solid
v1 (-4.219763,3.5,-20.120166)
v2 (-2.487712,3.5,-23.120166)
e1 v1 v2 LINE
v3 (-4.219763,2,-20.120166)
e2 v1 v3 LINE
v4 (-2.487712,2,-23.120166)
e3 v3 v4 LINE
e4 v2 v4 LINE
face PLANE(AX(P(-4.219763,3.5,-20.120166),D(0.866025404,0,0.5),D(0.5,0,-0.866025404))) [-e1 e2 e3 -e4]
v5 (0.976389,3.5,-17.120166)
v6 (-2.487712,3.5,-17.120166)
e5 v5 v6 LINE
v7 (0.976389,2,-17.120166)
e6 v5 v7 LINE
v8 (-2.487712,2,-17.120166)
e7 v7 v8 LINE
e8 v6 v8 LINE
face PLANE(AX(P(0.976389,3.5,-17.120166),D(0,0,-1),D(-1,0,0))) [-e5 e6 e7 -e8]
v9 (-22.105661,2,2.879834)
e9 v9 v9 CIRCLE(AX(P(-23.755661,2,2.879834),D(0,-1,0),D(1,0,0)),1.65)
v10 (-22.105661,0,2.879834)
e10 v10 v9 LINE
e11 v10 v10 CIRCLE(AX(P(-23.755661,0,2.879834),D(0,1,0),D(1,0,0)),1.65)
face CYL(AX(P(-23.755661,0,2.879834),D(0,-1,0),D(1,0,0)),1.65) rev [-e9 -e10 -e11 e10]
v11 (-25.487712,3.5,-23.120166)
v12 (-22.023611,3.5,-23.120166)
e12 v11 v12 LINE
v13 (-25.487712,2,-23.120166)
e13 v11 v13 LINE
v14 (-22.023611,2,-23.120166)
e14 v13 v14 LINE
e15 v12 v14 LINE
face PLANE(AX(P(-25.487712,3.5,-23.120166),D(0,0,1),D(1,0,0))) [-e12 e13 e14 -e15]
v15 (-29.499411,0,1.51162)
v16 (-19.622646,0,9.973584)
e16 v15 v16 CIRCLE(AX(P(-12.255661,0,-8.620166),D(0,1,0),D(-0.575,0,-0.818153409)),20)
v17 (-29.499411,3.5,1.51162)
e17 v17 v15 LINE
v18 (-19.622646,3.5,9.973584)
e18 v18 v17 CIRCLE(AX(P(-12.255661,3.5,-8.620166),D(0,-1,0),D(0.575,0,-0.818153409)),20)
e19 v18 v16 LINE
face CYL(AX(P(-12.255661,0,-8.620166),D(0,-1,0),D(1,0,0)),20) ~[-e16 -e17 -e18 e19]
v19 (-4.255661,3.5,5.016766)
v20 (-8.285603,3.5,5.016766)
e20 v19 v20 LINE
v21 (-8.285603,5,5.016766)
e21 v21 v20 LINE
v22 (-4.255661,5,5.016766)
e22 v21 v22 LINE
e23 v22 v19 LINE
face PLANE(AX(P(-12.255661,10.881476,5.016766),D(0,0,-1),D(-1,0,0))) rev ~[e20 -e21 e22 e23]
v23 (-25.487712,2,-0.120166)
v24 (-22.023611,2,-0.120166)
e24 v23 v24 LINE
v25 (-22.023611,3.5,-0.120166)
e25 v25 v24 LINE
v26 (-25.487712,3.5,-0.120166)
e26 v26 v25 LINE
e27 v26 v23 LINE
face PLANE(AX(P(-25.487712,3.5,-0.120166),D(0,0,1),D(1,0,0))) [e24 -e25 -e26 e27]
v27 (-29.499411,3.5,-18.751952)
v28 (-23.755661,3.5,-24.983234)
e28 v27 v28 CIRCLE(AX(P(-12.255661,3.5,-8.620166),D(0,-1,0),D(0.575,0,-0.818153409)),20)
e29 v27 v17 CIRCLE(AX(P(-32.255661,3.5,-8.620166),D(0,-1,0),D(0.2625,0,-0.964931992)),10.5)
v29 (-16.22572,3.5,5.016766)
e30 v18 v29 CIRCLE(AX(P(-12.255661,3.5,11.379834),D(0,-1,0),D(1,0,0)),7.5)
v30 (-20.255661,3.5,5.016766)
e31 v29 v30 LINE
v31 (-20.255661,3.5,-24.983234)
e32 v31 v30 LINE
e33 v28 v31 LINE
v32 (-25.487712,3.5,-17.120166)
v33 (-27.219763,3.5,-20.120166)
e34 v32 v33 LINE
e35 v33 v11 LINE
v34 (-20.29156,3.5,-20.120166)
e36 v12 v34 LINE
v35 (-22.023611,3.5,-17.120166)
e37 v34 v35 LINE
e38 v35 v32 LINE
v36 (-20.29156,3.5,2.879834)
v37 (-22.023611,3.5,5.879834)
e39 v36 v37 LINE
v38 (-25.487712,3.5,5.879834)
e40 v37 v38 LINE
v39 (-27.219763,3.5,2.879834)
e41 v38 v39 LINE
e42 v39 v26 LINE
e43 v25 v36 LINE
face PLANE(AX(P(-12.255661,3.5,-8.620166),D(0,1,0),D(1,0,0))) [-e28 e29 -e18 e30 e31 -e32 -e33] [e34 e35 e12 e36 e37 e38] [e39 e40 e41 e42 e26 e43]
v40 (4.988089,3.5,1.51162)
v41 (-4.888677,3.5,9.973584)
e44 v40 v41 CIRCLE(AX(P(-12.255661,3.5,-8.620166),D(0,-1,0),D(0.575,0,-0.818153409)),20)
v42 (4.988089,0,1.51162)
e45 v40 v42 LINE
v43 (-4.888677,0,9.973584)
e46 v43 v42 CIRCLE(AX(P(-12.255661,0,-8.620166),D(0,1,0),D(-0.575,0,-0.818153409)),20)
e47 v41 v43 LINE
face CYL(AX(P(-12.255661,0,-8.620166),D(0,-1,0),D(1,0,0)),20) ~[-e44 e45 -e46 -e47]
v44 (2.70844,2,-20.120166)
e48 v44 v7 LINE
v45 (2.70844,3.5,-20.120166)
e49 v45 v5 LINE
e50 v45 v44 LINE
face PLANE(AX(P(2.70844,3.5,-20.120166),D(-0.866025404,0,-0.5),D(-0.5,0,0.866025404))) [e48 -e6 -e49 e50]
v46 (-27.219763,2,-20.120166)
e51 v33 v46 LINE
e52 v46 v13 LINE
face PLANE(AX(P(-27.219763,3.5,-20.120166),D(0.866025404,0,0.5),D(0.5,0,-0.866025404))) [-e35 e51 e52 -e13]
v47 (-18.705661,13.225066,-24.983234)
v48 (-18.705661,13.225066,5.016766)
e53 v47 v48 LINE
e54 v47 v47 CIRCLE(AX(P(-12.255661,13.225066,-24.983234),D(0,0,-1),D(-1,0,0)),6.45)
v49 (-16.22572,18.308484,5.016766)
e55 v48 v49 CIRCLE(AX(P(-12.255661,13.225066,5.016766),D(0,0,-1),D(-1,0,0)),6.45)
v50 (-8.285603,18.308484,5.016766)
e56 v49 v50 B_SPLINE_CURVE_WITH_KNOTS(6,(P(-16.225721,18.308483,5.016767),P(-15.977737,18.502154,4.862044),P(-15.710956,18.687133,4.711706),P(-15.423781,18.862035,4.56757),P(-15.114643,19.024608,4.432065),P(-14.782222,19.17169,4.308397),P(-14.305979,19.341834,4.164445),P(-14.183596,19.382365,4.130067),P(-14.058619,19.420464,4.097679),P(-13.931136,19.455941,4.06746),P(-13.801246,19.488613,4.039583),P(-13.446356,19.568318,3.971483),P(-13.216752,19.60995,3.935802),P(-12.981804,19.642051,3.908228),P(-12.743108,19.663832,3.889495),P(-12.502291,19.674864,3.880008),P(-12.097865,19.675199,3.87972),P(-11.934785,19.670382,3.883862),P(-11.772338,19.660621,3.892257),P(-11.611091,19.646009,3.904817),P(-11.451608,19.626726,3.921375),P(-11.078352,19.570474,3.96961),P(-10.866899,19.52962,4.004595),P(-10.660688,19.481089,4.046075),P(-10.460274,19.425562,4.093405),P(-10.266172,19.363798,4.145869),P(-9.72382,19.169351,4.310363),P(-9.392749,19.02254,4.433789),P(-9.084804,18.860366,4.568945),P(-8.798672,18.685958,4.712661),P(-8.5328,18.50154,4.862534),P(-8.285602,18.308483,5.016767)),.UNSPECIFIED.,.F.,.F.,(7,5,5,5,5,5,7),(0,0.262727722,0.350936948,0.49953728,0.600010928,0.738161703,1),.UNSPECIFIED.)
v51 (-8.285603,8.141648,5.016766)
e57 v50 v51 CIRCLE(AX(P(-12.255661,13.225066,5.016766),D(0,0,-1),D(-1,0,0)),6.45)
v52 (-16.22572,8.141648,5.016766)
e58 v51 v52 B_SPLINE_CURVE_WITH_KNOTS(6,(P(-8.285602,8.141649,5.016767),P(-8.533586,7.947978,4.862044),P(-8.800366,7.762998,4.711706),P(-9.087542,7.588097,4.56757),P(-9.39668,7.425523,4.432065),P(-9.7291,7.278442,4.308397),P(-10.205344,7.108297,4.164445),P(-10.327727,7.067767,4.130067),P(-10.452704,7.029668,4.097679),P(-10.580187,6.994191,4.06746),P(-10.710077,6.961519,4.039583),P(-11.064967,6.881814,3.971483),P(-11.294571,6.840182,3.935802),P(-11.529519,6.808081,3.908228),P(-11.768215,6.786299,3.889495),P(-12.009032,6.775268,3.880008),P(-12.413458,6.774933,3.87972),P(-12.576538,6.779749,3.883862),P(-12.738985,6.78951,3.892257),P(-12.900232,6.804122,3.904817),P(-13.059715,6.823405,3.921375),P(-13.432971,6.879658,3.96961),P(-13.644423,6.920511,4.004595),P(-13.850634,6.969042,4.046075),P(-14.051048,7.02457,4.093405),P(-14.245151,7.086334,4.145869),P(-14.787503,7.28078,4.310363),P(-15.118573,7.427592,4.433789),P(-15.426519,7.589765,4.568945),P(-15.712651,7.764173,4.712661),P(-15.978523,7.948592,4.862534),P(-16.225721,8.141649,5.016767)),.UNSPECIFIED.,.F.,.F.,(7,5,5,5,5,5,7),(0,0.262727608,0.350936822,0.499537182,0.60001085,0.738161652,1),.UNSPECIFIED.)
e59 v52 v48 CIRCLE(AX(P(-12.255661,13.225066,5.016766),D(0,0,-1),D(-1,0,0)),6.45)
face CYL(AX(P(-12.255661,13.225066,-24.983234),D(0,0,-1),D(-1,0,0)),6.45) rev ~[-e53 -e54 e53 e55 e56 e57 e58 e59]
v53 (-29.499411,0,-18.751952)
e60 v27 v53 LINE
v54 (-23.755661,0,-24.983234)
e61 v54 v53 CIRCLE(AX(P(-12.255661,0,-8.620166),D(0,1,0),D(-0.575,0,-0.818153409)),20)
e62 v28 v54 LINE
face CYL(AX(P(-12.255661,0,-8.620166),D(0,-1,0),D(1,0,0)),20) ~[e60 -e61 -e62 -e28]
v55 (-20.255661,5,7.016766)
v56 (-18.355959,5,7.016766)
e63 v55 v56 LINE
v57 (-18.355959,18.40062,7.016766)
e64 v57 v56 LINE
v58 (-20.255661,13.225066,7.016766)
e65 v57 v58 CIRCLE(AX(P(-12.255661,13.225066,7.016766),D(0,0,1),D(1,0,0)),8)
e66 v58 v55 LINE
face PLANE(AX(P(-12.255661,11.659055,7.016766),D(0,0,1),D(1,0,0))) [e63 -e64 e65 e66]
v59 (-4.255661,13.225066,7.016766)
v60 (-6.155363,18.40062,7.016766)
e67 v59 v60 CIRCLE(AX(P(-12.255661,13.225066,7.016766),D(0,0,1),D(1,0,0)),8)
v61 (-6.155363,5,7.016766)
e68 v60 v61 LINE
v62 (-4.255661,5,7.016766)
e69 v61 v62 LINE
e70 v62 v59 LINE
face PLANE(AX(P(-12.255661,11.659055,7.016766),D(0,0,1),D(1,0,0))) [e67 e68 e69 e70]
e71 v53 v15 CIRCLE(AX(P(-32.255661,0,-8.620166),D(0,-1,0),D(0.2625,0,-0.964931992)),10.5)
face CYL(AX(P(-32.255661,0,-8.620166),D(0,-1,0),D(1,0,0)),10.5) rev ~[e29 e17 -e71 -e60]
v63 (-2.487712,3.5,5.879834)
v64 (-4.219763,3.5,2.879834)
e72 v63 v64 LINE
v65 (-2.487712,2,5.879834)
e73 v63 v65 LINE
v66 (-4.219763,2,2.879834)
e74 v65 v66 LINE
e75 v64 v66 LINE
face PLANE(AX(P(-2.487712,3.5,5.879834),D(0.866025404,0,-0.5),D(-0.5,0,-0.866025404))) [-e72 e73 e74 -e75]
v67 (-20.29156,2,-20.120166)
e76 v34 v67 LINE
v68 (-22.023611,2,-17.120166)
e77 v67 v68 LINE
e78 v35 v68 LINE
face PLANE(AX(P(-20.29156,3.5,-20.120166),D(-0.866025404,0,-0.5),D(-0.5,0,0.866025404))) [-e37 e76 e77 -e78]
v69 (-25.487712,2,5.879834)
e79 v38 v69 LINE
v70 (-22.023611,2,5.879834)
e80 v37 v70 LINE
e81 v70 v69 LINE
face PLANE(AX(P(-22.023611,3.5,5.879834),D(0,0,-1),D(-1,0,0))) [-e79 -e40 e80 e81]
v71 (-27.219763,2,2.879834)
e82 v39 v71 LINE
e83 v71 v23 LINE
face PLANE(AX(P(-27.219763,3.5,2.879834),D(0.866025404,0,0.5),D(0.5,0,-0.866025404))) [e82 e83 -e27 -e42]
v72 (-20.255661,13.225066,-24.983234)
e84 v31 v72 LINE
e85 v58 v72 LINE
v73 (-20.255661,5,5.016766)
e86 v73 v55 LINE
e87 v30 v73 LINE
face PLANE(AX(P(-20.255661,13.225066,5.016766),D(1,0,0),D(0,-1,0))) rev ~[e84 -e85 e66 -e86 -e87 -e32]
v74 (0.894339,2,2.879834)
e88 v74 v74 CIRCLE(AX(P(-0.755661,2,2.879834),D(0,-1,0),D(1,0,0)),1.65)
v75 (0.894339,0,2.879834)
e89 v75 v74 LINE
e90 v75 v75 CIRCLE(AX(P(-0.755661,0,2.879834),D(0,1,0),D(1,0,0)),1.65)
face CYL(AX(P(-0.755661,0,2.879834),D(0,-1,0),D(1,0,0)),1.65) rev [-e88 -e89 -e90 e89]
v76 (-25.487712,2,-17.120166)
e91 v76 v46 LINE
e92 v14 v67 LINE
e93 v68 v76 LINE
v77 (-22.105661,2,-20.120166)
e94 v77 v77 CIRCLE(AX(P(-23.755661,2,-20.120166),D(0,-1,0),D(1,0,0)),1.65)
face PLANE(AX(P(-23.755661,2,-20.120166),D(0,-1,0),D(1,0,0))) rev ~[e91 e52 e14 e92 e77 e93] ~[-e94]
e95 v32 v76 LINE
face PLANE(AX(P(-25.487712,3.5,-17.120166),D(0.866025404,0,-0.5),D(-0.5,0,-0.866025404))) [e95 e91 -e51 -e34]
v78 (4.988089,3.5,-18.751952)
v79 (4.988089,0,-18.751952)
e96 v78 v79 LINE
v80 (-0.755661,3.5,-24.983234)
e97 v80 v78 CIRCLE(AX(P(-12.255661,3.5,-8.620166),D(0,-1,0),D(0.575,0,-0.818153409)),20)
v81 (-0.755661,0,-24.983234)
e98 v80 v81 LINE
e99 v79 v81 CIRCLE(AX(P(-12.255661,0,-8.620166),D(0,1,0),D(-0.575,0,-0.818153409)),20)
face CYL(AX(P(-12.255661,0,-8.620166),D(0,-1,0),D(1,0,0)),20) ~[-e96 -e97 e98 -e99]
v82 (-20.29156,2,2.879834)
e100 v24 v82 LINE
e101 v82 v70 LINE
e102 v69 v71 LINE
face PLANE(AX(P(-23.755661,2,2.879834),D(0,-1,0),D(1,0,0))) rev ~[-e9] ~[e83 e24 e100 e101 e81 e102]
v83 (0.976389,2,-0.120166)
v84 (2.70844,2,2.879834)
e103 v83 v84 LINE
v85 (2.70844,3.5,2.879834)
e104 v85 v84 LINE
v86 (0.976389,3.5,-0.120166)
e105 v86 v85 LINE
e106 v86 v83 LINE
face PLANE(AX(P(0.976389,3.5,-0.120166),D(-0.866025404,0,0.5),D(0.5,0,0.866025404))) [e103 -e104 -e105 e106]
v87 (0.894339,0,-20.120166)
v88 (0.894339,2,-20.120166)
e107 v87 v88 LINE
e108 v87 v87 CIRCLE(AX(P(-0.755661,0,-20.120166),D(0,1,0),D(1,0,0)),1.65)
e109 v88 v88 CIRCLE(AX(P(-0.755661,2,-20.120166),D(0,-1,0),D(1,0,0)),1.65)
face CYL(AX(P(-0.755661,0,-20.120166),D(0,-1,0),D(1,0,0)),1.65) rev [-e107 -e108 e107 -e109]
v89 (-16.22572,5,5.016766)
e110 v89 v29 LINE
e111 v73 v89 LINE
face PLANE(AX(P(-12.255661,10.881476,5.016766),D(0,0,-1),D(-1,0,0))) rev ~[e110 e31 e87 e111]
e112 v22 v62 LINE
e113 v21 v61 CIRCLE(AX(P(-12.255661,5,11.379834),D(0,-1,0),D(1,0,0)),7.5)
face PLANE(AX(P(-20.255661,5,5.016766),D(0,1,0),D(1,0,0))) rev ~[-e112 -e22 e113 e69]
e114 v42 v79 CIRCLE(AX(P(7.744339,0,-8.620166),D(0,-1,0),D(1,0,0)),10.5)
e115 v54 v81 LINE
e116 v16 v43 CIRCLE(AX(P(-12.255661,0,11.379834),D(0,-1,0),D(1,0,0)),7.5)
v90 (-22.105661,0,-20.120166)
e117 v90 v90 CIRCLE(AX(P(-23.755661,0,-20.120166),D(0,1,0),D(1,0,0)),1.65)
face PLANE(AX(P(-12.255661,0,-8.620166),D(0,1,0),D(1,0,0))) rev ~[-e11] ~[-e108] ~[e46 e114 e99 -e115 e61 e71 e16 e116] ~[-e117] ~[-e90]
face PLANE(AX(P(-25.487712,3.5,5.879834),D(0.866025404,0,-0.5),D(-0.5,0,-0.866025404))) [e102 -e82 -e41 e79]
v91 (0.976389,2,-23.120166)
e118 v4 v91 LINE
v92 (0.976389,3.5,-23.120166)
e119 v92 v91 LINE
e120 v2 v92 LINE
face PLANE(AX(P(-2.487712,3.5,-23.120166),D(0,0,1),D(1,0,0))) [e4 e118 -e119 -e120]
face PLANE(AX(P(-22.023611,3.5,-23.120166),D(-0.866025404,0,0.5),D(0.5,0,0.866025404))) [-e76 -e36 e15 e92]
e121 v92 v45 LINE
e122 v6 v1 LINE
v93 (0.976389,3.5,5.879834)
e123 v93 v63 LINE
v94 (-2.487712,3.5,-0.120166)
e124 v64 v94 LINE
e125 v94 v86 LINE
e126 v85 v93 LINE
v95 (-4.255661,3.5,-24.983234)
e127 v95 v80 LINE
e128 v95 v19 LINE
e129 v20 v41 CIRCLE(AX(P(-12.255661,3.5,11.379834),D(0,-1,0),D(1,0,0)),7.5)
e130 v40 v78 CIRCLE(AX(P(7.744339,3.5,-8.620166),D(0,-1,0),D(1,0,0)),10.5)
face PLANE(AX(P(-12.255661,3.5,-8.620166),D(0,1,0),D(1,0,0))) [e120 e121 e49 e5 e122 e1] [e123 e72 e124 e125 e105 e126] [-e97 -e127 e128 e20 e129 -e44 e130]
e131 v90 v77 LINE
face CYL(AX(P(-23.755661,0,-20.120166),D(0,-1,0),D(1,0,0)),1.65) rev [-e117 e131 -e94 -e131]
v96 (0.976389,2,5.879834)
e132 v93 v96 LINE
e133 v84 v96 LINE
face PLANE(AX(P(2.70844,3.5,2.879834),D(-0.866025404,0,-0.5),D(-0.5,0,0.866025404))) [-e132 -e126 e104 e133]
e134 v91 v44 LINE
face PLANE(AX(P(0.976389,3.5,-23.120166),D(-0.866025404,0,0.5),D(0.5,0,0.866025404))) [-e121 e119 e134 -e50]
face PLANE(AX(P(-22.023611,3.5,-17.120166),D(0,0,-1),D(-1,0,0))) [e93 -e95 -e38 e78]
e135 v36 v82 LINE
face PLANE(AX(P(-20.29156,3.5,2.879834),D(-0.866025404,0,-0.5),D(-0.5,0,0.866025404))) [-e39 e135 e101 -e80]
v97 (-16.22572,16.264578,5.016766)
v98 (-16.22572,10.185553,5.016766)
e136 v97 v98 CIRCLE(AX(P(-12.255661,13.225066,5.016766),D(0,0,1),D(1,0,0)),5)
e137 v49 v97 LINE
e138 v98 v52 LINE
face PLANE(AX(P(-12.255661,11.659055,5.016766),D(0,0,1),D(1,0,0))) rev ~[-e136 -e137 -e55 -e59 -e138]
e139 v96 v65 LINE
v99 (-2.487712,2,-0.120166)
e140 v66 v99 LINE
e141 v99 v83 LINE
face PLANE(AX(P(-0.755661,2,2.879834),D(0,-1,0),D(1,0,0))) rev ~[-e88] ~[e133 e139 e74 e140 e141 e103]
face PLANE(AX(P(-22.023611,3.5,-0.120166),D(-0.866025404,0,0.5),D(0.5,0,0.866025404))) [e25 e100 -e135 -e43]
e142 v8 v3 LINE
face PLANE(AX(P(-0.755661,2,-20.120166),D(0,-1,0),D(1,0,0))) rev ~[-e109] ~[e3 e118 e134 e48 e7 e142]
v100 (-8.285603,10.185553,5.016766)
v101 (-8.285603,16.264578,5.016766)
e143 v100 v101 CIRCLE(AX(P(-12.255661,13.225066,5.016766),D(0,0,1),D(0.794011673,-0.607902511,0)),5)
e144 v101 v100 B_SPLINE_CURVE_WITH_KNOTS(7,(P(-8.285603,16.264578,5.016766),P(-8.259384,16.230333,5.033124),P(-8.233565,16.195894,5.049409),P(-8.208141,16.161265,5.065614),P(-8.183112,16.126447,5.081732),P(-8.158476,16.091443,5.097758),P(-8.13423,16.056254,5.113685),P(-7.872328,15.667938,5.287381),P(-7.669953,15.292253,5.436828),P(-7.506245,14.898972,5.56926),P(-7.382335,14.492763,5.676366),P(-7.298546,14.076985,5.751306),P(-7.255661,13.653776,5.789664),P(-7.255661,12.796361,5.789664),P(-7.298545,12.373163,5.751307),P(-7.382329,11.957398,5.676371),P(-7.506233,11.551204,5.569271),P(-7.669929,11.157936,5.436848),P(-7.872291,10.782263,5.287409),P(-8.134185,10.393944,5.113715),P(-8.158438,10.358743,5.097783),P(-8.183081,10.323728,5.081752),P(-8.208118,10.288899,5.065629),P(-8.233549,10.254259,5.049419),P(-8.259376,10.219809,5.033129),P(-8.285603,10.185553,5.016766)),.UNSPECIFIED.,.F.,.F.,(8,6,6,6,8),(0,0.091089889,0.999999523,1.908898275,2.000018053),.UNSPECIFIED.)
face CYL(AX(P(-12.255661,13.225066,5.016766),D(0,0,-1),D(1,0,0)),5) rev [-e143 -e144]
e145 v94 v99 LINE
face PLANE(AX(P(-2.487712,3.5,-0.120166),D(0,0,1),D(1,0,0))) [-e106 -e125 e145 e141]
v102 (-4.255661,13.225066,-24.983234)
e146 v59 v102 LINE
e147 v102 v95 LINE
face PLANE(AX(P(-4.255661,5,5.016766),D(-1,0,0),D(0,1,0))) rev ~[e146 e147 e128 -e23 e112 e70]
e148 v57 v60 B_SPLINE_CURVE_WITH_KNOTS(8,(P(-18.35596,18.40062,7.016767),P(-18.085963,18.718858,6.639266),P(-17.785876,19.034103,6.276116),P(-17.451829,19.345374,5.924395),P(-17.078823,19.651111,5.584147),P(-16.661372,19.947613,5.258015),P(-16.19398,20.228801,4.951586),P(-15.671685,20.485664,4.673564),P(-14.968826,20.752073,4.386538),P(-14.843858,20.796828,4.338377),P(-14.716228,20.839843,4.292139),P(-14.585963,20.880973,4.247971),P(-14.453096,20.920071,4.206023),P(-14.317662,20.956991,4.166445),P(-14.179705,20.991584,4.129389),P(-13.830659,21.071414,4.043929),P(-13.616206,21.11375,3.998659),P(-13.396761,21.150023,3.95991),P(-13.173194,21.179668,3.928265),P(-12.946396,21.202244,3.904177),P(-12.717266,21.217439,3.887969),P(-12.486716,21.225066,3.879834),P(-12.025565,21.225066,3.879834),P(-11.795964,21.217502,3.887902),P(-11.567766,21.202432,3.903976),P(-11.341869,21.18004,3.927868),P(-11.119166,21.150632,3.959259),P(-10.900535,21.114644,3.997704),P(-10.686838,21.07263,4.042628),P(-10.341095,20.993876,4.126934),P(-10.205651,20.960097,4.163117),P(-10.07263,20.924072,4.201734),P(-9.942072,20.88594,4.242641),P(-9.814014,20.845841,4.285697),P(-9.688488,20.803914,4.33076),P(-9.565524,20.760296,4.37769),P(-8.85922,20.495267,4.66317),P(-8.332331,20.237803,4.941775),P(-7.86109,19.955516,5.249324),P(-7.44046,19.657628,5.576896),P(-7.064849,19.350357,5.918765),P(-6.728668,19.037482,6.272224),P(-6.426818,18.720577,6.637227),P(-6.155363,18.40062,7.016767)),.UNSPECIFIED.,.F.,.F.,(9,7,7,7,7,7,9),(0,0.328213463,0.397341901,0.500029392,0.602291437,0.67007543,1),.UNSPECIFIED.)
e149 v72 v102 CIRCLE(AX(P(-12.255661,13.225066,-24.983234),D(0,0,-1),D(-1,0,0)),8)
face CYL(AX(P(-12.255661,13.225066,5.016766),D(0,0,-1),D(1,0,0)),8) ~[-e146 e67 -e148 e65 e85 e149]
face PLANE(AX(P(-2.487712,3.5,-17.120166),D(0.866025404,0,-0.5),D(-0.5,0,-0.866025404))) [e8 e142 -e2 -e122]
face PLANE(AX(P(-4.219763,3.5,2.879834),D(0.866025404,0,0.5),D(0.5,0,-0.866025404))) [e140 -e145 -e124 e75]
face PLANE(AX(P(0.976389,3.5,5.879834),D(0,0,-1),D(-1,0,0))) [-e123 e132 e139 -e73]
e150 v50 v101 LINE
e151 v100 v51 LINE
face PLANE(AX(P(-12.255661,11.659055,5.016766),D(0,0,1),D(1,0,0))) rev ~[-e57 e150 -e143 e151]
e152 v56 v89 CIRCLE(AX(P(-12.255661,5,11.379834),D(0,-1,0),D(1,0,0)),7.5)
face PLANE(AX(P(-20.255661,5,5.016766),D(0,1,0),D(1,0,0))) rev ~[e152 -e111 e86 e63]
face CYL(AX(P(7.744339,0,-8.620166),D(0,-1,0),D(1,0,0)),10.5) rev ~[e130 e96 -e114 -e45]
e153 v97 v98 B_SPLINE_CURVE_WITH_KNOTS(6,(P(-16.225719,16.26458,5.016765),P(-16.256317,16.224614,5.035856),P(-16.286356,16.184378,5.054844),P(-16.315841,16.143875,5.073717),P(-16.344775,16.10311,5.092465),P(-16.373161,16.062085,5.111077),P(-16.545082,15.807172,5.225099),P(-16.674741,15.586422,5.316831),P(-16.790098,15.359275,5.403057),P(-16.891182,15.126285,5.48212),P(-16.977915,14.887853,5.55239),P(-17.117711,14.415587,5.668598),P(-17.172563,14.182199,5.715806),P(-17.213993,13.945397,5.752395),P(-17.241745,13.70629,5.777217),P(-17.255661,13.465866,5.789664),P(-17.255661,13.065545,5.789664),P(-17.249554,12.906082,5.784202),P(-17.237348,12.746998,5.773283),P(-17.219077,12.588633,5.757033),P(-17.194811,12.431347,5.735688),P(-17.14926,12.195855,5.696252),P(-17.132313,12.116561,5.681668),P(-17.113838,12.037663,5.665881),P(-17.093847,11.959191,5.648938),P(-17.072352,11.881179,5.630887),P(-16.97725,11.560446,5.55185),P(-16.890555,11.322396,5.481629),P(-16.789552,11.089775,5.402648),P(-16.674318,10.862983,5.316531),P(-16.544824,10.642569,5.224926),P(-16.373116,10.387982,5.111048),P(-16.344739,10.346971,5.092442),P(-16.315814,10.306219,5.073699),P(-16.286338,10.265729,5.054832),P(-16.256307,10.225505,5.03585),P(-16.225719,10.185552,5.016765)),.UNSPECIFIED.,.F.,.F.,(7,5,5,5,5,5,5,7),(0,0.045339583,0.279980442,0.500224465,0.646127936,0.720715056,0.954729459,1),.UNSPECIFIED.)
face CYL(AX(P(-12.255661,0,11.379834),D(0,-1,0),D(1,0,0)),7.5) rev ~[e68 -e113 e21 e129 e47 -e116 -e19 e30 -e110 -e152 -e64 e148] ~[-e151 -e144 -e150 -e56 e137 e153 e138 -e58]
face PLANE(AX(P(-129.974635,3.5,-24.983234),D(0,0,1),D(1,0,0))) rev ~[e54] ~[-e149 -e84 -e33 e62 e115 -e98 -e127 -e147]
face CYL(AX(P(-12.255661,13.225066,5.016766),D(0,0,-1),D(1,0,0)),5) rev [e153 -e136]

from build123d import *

# Parameters (mm, degrees)
SKETCH1_R               = 20
SKETCH1_R_2             = 1.65
BOSS_EXTRUDE2_DEPTH     = 3.5
CUT_EXTRUDE1_DEPTH      = 1
CUT_EXTRUDE1_DEPTH_BACK = 4.5
SKETCH4_R               = 6.45
BOSS_EXTRUDE3_DEPTH     = 30
SKETCH5_R               = 5
BOSS_EXTRUDE4_DEPTH     = 2
CUT_EXTRUDE2_START      = -3.5
CUT_EXTRUDE2_DEPTH      = 1.5
SKETCH7_R               = 10.5
SKETCH7_R_2             = 7.5
CUT_EXTRUDE3_DEPTH      = 22.225065807


with BuildPart() as part:
    # Sketch1 → Boss-Extrude2 (new body)
    with BuildSketch(Plane(origin=(0, 0, 0), x_dir=(1, 0, 0), z_dir=(0, 1, 0))):
        with Locations((-12.255661444, 8.620165848)):
            Circle(SKETCH1_R)
        with Locations((-23.755661444, 20.120165848)):
            Circle(SKETCH1_R_2, mode=Mode.SUBTRACT)
        with Locations((-0.755661444, 20.120165848)):
            Circle(SKETCH1_R_2, mode=Mode.SUBTRACT)
        with Locations((-23.755661444, -2.879834152)):
            Circle(SKETCH1_R_2, mode=Mode.SUBTRACT)
        with Locations((-0.755661444, -2.879834152)):
            Circle(SKETCH1_R_2, mode=Mode.SUBTRACT)
    extrude(amount=BOSS_EXTRUDE2_DEPTH)

    # Sketch3 → Cut-Extrude1 (cut, two sides)
    with BuildSketch(Plane(origin=(0, 3.5, 0), x_dir=(1, 0, 0), z_dir=(0, 1, 0))) as cut_extrude1_sk:
        Polygon((-129.974635183, 24.98323402), (-23.755661444, 24.98323402), (-0.755661444, 24.98323402), (105.463312296, 24.98323402), (105.463312296, 237.421181499), (-129.974635183, 237.421181499), align=None)
    extrude(amount=CUT_EXTRUDE1_DEPTH, mode=Mode.SUBTRACT)
    extrude(cut_extrude1_sk.sketch, amount=-CUT_EXTRUDE1_DEPTH_BACK, mode=Mode.SUBTRACT)

    # Sketch4 → Boss-Extrude3 (add)
    with BuildSketch(Plane(origin=(0, 0, -24.98323402), x_dir=(-1, 0, 0), z_dir=(0, 0, -1))):
        with BuildLine():
            Line((4.255661444, 13.225065807), (4.255661444, 3.5))
            Line((4.255661444, 3.5), (20.255661444, 3.5))
            Line((20.255661444, 3.5), (20.255661444, 13.225065807))
            ThreePointArc((20.255661444, 13.225065807), (12.255661444, 21.225065807), (4.255661444, 13.225065807))
        make_face()
        with Locations((12.255661444, 13.225065807)):
            Circle(SKETCH4_R, mode=Mode.SUBTRACT)
    extrude(amount=-BOSS_EXTRUDE3_DEPTH)

    # Sketch5 → Boss-Extrude4 (add)
    with BuildSketch(Plane.XY.offset(5.01676598)):
        with BuildLine():
            Line((-20.255661444, 13.225065807), (-20.255661444, 5))
            Line((-20.255661444, 5), (-4.255661444, 5))
            Line((-4.255661444, 5), (-4.255661444, 13.225065807))
            ThreePointArc((-4.255661444, 13.225065807), (-12.255661444, 21.225065807), (-20.255661444, 13.225065807))
        make_face()
        with Locations((-12.255661444, 13.225065807)):
            Circle(SKETCH5_R, mode=Mode.SUBTRACT)
    extrude(amount=BOSS_EXTRUDE4_DEPTH)

    # Sketch6 → Cut-Extrude2 (cut)
    with BuildSketch(Plane.XZ.offset(CUT_EXTRUDE2_START)):
        Polygon((-22.023610636, -17.120165848), (-25.487712251, -17.120165848), (-27.219763059, -20.120165848), (-25.487712251, -23.120165848), (-22.023610636, -23.120165848), (-20.291559828, -20.120165848), align=None)
        Polygon((-22.023610636, -0.120165848), (-20.291559828, 2.879834152), (-22.023610636, 5.879834152), (-25.487712251, 5.879834152), (-27.219763059, 2.879834152), (-25.487712251, -0.120165848), align=None)
        Polygon((0.976389364, -0.120165848), (2.708440172, 2.879834152), (0.976389364, 5.879834152), (-2.487712251, 5.879834152), (-4.219763059, 2.879834152), (-2.487712251, -0.120165848), align=None)
        Polygon((0.976389364, -17.120165848), (-2.487712251, -17.120165848), (-4.219763059, -20.120165848), (-2.487712251, -23.120165848), (0.976389364, -23.120165848), (2.708440172, -20.120165848), align=None)
    extrude(amount=CUT_EXTRUDE2_DEPTH, mode=Mode.SUBTRACT)

    # Sketch7 → Cut-Extrude3 (cut, through all)
    with BuildSketch(Plane.XZ):
        with Locations((-32.255661444, -8.620165848)):
            Circle(SKETCH7_R)
        with Locations((7.744338556, -8.620165848)):
            Circle(SKETCH7_R)
        with Locations((-12.255661444, 11.379834152)):
            Circle(SKETCH7_R_2)
    extrude(amount=-CUT_EXTRUDE3_DEPTH, mode=Mode.SUBTRACT)


solid = part.part
